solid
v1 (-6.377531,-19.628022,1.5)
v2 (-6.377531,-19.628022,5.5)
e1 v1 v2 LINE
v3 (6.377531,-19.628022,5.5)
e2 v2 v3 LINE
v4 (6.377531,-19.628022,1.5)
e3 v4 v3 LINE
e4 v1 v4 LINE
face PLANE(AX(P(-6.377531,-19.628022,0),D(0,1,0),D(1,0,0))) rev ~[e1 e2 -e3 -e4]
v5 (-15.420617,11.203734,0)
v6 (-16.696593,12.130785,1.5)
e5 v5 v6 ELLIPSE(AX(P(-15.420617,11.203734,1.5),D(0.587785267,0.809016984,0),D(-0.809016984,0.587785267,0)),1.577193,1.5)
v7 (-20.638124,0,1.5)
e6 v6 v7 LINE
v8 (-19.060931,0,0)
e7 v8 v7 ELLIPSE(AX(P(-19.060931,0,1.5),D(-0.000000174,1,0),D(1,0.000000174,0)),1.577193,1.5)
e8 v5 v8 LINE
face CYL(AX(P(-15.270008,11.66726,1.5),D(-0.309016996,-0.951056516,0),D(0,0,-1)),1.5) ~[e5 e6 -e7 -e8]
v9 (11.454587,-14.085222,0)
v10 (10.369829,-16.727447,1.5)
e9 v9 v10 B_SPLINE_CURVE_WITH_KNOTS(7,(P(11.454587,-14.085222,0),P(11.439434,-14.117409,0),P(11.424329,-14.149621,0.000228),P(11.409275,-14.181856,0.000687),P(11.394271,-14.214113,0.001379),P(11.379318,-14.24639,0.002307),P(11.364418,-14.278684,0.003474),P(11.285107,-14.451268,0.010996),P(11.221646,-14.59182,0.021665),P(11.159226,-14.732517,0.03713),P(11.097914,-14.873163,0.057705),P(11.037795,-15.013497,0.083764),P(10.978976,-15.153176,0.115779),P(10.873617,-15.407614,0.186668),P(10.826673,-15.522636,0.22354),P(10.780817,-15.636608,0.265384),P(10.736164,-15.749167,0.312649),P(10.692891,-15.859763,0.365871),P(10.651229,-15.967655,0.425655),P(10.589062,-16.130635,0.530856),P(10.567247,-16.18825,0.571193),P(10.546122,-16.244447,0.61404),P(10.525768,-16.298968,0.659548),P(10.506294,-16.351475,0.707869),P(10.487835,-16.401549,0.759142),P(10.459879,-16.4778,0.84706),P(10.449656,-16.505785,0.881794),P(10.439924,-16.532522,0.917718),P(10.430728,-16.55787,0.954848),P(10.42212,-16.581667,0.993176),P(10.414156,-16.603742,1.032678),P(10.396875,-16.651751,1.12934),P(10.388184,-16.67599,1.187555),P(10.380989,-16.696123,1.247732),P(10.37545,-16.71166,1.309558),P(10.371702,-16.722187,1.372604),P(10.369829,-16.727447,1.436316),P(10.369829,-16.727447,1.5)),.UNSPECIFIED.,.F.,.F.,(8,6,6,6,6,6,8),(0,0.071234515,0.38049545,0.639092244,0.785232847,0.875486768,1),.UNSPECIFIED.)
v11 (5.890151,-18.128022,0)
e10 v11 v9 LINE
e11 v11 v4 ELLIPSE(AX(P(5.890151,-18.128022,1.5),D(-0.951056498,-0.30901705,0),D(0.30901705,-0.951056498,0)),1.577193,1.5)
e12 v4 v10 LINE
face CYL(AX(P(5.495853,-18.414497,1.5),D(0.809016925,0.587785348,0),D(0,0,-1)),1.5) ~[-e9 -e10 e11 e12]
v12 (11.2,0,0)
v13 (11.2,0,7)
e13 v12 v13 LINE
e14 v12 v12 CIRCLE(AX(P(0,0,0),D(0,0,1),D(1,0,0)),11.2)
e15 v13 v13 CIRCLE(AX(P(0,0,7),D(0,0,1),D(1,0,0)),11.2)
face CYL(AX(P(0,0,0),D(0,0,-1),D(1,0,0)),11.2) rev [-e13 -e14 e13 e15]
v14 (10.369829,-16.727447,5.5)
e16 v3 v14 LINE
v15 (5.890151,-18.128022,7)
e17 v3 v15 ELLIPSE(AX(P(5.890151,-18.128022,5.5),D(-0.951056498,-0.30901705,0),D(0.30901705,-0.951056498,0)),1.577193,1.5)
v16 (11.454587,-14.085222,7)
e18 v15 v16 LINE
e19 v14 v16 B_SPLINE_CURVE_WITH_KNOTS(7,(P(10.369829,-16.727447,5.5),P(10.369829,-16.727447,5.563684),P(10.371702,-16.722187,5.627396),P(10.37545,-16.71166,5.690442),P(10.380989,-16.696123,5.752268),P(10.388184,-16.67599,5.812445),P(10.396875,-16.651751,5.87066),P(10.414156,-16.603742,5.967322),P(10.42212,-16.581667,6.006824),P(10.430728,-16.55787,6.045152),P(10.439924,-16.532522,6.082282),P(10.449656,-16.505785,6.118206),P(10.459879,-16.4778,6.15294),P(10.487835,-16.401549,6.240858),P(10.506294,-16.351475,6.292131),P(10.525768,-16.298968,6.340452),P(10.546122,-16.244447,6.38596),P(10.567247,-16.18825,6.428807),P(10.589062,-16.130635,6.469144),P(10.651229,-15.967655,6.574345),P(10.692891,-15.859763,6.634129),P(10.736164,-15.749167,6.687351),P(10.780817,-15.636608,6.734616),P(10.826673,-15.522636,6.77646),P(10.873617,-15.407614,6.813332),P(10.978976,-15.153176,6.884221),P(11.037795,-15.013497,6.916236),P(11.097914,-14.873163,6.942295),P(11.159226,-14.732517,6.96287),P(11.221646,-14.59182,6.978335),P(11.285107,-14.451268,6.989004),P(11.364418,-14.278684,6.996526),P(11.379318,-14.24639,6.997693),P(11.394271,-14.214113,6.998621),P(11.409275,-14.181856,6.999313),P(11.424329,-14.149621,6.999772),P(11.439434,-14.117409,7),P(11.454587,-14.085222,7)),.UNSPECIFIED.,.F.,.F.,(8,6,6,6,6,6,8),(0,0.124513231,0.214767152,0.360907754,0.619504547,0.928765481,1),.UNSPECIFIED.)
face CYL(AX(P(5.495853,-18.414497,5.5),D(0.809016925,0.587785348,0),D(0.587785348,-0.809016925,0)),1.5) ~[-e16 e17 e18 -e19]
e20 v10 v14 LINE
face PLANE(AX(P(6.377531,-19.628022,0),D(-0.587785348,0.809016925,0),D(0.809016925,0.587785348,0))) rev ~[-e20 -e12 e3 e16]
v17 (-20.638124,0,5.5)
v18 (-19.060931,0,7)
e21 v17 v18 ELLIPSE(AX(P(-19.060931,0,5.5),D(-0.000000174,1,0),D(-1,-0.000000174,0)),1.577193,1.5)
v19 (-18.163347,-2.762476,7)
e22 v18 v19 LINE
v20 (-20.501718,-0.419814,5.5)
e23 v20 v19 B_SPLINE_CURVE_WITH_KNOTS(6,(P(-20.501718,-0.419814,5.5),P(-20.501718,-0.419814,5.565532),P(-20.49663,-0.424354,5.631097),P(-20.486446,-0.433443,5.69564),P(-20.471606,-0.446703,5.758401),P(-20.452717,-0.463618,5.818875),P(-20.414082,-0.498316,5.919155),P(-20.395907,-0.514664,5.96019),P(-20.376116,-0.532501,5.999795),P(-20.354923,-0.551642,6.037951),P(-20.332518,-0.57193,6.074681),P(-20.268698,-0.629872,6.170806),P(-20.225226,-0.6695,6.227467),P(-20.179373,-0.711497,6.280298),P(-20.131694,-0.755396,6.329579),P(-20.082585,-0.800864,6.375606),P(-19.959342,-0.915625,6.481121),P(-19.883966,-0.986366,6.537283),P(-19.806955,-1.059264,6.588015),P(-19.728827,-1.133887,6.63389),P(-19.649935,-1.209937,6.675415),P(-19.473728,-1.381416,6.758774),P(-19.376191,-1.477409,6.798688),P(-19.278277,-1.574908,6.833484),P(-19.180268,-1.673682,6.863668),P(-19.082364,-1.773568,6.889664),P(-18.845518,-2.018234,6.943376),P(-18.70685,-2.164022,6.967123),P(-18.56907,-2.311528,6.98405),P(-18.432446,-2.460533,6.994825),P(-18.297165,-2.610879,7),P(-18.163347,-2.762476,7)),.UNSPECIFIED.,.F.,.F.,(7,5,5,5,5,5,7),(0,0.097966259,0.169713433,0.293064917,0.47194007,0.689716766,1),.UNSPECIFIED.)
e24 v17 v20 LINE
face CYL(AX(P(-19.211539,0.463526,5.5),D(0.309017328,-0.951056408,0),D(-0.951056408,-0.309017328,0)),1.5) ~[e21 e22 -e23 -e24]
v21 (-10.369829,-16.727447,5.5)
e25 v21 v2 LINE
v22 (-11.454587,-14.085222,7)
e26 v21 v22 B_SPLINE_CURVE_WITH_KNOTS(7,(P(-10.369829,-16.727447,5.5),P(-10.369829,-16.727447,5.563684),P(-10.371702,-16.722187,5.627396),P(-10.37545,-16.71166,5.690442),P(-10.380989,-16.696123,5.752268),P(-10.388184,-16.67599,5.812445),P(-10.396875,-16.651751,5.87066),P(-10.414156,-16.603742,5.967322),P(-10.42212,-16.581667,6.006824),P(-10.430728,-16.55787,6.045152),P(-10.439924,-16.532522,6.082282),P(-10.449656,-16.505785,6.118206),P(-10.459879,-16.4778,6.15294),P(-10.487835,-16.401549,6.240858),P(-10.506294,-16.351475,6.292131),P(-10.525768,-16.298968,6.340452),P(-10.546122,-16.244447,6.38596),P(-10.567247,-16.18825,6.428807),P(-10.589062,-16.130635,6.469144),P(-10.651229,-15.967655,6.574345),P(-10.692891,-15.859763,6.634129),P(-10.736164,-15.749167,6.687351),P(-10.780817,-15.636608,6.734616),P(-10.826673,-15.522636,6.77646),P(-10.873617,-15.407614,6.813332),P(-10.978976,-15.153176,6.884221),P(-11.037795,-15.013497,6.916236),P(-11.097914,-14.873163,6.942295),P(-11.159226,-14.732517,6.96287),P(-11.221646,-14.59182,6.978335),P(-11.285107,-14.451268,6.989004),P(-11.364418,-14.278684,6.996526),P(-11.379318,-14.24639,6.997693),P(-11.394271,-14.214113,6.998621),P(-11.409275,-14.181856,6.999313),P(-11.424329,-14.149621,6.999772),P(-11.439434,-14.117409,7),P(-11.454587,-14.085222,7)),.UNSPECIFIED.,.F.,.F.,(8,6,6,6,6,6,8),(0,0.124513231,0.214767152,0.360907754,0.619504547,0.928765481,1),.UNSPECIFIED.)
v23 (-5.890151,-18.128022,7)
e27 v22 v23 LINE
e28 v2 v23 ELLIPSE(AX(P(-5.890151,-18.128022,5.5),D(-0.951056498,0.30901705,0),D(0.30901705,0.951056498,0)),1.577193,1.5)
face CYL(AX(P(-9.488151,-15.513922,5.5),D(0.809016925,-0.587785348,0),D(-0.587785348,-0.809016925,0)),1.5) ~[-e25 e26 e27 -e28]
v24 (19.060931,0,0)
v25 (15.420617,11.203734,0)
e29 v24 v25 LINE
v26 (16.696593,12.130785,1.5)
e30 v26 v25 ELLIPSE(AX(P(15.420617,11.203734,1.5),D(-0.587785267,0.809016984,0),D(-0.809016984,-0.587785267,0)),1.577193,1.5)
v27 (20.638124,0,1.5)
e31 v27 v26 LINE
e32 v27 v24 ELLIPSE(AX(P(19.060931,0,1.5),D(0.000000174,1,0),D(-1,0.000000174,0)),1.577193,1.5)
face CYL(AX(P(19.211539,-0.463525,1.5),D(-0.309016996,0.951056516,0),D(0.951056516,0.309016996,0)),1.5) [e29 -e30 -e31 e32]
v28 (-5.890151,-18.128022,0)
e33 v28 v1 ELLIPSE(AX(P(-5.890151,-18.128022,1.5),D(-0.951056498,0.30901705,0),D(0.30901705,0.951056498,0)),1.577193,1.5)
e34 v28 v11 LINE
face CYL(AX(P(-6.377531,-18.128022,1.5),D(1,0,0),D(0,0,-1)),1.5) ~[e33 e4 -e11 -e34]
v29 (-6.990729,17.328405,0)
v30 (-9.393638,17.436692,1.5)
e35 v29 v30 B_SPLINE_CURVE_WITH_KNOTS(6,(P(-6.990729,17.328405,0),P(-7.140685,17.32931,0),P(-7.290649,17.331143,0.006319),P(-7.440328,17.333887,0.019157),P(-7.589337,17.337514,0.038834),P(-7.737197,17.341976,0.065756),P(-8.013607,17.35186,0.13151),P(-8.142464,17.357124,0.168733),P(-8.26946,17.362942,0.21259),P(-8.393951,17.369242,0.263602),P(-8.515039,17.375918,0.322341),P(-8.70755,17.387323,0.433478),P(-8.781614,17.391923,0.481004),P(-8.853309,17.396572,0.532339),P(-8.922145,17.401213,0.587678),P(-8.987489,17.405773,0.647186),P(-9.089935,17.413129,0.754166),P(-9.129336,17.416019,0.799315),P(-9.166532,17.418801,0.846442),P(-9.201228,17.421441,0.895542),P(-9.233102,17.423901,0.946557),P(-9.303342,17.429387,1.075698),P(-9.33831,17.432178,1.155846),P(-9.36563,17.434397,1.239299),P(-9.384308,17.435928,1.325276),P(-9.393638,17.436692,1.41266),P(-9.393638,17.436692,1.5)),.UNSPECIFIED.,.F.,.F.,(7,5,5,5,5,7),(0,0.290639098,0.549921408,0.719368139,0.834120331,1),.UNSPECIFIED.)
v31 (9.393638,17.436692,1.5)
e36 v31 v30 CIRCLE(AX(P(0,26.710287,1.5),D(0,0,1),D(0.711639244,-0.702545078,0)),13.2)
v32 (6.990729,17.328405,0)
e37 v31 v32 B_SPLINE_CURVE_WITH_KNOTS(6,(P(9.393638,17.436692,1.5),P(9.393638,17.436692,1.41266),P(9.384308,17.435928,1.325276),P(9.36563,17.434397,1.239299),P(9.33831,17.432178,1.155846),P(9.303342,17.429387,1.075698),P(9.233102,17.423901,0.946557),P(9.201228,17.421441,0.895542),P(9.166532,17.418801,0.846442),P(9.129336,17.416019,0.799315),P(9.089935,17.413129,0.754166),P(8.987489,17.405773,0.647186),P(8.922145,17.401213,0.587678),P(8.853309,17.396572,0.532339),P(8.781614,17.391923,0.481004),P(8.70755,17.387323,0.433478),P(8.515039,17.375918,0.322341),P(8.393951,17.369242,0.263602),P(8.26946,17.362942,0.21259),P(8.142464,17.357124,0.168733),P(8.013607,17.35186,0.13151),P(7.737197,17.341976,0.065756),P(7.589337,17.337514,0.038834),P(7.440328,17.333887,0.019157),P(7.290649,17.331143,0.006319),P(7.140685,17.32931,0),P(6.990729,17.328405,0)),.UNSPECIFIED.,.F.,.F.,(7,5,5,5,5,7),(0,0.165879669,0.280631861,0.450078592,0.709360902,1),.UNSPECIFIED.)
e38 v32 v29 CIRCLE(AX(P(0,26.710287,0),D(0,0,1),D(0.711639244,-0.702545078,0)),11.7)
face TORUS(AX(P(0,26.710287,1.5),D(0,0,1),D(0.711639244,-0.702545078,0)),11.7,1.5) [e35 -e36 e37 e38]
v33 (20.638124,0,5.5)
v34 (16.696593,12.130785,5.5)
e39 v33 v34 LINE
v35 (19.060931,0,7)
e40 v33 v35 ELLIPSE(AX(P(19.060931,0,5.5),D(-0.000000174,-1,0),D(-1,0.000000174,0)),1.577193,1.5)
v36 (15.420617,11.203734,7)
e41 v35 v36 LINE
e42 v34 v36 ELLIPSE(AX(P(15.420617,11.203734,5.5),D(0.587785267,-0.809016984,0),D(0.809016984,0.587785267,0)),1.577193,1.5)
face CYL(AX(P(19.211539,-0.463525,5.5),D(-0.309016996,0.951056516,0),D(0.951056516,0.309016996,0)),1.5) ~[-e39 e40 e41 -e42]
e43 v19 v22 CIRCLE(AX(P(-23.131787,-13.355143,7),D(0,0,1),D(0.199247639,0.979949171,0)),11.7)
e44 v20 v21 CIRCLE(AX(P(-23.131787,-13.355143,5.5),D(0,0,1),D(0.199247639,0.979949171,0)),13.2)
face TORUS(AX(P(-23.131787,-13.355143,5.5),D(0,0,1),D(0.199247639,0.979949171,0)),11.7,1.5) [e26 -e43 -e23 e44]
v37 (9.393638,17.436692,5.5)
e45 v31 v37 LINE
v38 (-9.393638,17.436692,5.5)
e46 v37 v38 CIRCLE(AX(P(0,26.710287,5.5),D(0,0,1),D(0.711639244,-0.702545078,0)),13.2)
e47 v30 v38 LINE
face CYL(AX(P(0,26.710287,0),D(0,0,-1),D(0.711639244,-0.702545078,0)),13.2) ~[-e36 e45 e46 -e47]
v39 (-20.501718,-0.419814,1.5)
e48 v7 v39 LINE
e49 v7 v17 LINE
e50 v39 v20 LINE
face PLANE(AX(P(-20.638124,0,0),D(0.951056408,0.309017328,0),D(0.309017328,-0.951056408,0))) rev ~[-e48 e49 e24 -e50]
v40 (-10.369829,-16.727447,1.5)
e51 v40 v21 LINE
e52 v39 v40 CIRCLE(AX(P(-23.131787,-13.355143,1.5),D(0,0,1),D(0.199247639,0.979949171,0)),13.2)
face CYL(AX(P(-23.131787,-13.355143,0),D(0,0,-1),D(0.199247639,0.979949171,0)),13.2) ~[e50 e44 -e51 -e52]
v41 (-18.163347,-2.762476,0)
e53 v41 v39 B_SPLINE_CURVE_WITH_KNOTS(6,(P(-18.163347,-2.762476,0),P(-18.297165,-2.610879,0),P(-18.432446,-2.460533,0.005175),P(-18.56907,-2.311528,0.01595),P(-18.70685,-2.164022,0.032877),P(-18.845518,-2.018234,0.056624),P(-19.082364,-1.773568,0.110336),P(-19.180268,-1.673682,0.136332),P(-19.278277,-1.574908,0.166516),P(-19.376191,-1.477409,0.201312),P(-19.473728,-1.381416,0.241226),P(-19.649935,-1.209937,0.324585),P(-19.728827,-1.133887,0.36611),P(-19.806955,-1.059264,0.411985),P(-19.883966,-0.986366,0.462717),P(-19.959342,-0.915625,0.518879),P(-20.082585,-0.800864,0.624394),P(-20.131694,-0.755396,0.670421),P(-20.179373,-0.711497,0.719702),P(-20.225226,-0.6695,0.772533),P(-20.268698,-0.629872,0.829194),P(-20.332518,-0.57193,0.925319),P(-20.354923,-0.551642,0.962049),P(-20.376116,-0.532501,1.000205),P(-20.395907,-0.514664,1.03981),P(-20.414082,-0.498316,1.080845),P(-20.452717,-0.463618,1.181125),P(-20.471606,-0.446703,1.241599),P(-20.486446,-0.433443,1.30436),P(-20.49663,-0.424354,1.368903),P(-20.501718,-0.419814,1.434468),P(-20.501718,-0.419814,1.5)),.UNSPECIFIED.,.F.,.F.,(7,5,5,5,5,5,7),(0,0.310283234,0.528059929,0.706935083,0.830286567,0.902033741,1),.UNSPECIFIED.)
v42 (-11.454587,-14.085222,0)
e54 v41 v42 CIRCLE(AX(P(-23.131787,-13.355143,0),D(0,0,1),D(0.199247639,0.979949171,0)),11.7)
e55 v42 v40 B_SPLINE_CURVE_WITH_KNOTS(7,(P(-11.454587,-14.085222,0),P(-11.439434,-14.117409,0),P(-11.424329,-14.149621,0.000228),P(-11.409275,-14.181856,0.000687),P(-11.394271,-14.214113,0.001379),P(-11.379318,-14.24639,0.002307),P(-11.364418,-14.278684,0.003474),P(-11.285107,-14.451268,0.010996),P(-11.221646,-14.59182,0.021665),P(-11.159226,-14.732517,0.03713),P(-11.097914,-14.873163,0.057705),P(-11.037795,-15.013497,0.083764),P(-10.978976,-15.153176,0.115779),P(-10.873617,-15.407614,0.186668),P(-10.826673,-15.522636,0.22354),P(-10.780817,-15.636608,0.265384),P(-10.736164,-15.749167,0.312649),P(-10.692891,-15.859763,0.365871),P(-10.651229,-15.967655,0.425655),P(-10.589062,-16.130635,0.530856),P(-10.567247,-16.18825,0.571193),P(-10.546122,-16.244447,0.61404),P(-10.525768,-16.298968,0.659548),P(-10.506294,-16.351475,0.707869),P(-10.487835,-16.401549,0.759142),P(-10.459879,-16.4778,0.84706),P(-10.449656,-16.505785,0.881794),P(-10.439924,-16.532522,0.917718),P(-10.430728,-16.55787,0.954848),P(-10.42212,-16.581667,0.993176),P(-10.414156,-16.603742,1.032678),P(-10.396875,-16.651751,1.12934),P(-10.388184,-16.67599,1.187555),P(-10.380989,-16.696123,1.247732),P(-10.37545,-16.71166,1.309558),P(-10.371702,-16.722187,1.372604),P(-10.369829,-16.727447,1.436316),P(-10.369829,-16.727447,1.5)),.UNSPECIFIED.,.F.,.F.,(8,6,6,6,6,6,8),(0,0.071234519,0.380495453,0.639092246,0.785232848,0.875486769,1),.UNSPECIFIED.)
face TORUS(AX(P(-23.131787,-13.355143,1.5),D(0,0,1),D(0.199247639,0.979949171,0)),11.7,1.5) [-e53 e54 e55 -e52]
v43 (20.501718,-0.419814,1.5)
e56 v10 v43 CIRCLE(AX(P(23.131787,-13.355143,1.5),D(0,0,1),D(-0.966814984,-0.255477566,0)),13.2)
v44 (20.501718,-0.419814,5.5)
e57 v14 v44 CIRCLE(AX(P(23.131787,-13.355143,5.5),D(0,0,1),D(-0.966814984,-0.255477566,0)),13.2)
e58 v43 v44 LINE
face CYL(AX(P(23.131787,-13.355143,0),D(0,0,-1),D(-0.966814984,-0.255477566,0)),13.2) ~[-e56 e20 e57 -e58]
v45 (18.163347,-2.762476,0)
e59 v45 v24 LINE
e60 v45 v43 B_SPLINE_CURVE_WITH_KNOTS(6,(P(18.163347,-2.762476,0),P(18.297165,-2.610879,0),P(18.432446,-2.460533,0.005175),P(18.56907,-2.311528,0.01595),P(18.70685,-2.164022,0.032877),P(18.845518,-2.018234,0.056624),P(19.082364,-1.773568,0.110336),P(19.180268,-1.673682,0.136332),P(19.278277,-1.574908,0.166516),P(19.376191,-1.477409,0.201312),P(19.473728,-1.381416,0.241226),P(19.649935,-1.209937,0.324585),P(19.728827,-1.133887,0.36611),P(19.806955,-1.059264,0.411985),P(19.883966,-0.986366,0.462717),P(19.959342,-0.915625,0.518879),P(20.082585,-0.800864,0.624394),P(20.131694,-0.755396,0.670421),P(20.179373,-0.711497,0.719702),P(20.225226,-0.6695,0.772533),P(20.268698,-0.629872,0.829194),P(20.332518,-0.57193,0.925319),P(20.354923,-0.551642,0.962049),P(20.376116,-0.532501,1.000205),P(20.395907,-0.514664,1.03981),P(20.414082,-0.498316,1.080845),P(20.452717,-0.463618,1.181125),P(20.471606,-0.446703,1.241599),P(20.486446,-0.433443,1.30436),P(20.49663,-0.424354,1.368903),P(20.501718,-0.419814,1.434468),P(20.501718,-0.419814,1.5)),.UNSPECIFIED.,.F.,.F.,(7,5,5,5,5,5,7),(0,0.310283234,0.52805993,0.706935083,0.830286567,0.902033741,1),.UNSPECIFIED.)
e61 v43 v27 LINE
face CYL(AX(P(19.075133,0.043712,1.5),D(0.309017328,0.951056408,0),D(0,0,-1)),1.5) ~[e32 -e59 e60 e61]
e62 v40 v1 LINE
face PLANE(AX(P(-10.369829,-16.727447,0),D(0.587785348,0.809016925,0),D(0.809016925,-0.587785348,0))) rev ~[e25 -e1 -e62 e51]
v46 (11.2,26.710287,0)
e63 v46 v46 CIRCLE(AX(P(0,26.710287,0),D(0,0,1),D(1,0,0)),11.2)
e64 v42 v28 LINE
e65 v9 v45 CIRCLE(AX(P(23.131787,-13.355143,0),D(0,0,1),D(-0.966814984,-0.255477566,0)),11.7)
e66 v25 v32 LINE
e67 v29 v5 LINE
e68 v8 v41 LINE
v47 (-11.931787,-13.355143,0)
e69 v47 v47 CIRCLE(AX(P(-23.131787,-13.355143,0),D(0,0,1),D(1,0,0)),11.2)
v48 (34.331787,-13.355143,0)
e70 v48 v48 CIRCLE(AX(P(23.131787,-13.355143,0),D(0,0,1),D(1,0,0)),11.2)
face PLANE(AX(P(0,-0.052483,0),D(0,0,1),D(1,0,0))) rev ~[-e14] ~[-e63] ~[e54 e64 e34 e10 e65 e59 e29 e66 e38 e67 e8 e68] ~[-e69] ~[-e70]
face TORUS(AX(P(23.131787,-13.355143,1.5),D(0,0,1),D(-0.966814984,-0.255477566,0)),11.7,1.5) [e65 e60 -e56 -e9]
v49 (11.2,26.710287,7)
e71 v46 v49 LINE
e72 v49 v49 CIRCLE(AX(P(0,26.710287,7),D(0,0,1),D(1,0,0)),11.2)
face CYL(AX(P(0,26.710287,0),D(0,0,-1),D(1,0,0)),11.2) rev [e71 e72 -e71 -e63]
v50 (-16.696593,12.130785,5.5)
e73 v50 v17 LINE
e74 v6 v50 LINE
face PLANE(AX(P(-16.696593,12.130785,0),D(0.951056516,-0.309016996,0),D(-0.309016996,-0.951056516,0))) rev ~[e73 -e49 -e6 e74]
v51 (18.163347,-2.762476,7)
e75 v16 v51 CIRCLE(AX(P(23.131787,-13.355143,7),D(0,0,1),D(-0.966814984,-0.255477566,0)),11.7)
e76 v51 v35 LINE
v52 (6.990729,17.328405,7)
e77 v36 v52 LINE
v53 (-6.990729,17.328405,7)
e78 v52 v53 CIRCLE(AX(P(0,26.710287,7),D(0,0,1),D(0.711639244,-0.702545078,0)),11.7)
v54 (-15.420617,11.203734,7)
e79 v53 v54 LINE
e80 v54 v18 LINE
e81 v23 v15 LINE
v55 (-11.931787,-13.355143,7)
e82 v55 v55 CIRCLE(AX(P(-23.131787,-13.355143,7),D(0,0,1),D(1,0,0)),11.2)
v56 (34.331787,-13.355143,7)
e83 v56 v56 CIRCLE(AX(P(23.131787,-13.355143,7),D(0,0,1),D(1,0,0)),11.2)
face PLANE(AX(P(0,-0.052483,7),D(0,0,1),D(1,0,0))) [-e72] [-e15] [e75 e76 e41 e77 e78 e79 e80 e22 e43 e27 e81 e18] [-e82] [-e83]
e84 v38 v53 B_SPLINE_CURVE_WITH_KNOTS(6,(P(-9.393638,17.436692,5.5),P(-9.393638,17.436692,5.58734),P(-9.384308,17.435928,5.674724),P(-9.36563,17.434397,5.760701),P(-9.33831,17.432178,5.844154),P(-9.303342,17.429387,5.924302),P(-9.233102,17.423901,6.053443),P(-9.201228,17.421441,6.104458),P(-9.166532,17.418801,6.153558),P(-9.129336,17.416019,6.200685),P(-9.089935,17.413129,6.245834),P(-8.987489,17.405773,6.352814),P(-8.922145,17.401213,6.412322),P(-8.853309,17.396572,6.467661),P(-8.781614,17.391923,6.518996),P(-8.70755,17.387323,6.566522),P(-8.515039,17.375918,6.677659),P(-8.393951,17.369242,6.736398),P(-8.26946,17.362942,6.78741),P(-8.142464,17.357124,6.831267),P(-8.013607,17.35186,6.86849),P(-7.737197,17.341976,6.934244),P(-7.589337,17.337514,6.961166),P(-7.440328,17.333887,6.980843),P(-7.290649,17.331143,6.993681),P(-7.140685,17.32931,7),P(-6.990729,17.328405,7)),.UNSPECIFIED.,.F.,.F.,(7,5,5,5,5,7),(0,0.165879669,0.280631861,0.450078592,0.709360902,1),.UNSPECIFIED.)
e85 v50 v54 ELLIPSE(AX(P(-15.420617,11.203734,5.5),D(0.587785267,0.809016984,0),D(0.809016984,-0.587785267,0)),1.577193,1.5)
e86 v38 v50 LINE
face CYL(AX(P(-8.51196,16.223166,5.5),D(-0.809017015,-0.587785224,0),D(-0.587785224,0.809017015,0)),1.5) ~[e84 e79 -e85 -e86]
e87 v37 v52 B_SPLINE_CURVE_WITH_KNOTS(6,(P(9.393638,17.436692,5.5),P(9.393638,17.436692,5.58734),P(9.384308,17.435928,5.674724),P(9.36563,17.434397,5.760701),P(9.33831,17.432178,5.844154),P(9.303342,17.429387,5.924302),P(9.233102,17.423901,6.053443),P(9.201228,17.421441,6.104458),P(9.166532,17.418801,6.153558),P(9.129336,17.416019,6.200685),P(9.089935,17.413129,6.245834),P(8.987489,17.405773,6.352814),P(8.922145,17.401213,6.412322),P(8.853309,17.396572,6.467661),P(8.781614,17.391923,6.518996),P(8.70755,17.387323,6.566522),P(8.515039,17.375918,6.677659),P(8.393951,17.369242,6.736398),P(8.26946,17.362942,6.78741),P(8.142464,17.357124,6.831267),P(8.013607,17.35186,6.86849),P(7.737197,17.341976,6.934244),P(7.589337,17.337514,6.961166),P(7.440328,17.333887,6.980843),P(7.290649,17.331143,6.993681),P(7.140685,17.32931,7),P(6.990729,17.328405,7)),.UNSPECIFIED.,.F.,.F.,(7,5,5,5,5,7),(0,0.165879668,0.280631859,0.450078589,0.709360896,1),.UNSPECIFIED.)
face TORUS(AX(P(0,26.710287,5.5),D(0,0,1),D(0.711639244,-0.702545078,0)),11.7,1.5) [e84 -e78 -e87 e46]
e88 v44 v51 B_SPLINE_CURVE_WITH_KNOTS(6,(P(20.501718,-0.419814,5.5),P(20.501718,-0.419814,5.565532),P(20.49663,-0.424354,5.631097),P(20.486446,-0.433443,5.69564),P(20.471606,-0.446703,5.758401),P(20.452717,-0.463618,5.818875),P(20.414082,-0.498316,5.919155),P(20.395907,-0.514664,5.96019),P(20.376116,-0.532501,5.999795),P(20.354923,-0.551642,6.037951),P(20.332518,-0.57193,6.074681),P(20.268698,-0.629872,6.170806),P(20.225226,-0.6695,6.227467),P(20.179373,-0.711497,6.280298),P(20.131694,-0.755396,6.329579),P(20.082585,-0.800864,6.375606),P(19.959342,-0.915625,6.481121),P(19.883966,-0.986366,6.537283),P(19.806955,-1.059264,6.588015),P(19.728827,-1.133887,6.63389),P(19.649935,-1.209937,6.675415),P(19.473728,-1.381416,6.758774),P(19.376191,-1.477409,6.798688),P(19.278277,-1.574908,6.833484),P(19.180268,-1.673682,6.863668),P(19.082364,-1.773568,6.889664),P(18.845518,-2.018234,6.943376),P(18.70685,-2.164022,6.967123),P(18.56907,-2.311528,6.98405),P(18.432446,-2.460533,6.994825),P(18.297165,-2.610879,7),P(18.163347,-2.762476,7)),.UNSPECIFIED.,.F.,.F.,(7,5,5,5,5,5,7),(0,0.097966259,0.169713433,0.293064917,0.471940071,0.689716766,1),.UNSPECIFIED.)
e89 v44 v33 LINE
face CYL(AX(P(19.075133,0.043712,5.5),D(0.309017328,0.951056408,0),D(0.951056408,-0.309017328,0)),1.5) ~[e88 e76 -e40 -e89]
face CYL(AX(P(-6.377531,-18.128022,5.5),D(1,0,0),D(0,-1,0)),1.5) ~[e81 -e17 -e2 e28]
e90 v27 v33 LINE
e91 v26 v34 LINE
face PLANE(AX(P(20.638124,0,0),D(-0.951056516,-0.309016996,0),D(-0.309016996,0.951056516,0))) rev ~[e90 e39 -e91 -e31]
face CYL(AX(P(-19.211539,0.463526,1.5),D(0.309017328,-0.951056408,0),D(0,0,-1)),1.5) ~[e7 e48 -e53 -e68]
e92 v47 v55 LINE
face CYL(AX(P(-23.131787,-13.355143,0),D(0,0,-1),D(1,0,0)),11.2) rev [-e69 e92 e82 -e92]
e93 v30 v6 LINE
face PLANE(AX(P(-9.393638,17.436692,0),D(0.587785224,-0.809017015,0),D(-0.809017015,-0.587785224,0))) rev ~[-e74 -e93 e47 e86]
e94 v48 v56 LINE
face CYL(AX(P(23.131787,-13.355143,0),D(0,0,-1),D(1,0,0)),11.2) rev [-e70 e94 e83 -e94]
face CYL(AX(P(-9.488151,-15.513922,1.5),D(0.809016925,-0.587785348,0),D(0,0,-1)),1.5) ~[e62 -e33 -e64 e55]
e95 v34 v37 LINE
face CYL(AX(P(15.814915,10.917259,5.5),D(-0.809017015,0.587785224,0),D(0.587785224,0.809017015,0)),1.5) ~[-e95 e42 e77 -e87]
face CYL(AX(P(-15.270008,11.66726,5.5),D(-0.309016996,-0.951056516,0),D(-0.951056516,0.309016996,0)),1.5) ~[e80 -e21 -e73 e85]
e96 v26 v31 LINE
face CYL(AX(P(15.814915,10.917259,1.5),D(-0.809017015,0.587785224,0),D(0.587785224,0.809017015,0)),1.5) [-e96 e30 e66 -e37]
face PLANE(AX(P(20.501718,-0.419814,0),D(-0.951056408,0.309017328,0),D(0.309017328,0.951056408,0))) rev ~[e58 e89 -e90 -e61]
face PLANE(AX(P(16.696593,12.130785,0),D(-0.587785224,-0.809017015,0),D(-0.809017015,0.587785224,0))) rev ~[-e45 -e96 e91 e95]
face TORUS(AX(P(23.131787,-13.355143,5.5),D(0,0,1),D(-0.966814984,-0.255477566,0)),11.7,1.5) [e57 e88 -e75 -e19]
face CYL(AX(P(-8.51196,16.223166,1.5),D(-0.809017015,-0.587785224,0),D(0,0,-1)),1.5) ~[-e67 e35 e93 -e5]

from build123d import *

# Parameters (mm, degrees)
F0_R     = 11.2
F1_DEPTH = 7
F2_R     = 1.5
F3_R     = 1.5


with BuildPart() as f1:
    # F0 (on Top) → F1 (new body)
    with BuildSketch(Plane.XY):
        with BuildLine():
            Line((16.696593, 12.130785), (9.393638, 17.436692))
            ThreePointArc((9.393638, 17.436692), (0, 39.910287), (-9.393638, 17.436692))
            Line((-9.393638, 17.436692), (-16.696593, 12.130785))
            Line((-16.696593, 12.130785), (-20.638124, 0))
            Line((-20.638124, 0), (-20.501718, -0.419814))
            ThreePointArc((-20.501718, -0.419814), (-34.343983, -20.321251), (-10.369829, -16.727447))
            Line((-10.369829, -16.727447), (-6.377531, -19.628022))
            Line((-6.377531, -19.628022), (6.377531, -19.628022))
            Line((6.377531, -19.628022), (10.369829, -16.727447))
            ThreePointArc((10.369829, -16.727447), (34.343983, -20.321251), (20.501718, -0.419814))
            Line((20.501718, -0.419814), (20.638124, 0))
            Line((20.638124, 0), (16.696593, 12.130785))
        make_face()
        with Locations((-23.131787, -13.355143)):
            Circle(F0_R, mode=Mode.SUBTRACT)
        with Locations((23.131787, -13.355143)):
            Circle(F0_R, mode=Mode.SUBTRACT)
        Circle(F0_R, mode=Mode.SUBTRACT)
        with Locations((0, 26.710287)):
            Circle(F0_R, mode=Mode.SUBTRACT)
    extrude(amount=F1_DEPTH)

    # F2
    f2_edges = [f1.edges().sort_by_distance(p)[0] for p in [
        (0, -19.628022, 7),
        (8.37368, -18.177735, 7),
        (-8.37368, -18.177735, 7),
        (-18.667358, 6.065392, 7),
        (-13.045115, 14.783738, 7),
        (18.667358, 6.065392, 7),
        (13.045115, 14.783738, 7),
        (0, 39.910287, 7),
        (-34.343983, -20.321251, 7),
        (34.343983, -20.321251, 7),
        (20.569921, -0.209907, 7),
        (-20.569921, -0.209907, 7),
    ]]
    fillet(f2_edges, radius=F2_R)

    # F3
    f3_edges = [f1.edges().sort_by_distance(p)[0] for p in [
        (13.045115, 14.783738, 0),
        (18.667358, 6.065392, 0),
        (34.343983, -20.321251, 0),
        (20.569921, -0.209907, 0),
        (-13.045115, 14.783738, 0),
        (-34.343983, -20.321251, 0),
        (-20.569921, -0.209907, 0),
        (-18.667358, 6.065392, 0),
        (0, -19.628022, 0),
        (-8.37368, -18.177735, 0),
        (8.37368, -18.177735, 0),
        (0, 39.910287, 0),
    ]]
    fillet(f3_edges, radius=F3_R)


solid = f1.part
